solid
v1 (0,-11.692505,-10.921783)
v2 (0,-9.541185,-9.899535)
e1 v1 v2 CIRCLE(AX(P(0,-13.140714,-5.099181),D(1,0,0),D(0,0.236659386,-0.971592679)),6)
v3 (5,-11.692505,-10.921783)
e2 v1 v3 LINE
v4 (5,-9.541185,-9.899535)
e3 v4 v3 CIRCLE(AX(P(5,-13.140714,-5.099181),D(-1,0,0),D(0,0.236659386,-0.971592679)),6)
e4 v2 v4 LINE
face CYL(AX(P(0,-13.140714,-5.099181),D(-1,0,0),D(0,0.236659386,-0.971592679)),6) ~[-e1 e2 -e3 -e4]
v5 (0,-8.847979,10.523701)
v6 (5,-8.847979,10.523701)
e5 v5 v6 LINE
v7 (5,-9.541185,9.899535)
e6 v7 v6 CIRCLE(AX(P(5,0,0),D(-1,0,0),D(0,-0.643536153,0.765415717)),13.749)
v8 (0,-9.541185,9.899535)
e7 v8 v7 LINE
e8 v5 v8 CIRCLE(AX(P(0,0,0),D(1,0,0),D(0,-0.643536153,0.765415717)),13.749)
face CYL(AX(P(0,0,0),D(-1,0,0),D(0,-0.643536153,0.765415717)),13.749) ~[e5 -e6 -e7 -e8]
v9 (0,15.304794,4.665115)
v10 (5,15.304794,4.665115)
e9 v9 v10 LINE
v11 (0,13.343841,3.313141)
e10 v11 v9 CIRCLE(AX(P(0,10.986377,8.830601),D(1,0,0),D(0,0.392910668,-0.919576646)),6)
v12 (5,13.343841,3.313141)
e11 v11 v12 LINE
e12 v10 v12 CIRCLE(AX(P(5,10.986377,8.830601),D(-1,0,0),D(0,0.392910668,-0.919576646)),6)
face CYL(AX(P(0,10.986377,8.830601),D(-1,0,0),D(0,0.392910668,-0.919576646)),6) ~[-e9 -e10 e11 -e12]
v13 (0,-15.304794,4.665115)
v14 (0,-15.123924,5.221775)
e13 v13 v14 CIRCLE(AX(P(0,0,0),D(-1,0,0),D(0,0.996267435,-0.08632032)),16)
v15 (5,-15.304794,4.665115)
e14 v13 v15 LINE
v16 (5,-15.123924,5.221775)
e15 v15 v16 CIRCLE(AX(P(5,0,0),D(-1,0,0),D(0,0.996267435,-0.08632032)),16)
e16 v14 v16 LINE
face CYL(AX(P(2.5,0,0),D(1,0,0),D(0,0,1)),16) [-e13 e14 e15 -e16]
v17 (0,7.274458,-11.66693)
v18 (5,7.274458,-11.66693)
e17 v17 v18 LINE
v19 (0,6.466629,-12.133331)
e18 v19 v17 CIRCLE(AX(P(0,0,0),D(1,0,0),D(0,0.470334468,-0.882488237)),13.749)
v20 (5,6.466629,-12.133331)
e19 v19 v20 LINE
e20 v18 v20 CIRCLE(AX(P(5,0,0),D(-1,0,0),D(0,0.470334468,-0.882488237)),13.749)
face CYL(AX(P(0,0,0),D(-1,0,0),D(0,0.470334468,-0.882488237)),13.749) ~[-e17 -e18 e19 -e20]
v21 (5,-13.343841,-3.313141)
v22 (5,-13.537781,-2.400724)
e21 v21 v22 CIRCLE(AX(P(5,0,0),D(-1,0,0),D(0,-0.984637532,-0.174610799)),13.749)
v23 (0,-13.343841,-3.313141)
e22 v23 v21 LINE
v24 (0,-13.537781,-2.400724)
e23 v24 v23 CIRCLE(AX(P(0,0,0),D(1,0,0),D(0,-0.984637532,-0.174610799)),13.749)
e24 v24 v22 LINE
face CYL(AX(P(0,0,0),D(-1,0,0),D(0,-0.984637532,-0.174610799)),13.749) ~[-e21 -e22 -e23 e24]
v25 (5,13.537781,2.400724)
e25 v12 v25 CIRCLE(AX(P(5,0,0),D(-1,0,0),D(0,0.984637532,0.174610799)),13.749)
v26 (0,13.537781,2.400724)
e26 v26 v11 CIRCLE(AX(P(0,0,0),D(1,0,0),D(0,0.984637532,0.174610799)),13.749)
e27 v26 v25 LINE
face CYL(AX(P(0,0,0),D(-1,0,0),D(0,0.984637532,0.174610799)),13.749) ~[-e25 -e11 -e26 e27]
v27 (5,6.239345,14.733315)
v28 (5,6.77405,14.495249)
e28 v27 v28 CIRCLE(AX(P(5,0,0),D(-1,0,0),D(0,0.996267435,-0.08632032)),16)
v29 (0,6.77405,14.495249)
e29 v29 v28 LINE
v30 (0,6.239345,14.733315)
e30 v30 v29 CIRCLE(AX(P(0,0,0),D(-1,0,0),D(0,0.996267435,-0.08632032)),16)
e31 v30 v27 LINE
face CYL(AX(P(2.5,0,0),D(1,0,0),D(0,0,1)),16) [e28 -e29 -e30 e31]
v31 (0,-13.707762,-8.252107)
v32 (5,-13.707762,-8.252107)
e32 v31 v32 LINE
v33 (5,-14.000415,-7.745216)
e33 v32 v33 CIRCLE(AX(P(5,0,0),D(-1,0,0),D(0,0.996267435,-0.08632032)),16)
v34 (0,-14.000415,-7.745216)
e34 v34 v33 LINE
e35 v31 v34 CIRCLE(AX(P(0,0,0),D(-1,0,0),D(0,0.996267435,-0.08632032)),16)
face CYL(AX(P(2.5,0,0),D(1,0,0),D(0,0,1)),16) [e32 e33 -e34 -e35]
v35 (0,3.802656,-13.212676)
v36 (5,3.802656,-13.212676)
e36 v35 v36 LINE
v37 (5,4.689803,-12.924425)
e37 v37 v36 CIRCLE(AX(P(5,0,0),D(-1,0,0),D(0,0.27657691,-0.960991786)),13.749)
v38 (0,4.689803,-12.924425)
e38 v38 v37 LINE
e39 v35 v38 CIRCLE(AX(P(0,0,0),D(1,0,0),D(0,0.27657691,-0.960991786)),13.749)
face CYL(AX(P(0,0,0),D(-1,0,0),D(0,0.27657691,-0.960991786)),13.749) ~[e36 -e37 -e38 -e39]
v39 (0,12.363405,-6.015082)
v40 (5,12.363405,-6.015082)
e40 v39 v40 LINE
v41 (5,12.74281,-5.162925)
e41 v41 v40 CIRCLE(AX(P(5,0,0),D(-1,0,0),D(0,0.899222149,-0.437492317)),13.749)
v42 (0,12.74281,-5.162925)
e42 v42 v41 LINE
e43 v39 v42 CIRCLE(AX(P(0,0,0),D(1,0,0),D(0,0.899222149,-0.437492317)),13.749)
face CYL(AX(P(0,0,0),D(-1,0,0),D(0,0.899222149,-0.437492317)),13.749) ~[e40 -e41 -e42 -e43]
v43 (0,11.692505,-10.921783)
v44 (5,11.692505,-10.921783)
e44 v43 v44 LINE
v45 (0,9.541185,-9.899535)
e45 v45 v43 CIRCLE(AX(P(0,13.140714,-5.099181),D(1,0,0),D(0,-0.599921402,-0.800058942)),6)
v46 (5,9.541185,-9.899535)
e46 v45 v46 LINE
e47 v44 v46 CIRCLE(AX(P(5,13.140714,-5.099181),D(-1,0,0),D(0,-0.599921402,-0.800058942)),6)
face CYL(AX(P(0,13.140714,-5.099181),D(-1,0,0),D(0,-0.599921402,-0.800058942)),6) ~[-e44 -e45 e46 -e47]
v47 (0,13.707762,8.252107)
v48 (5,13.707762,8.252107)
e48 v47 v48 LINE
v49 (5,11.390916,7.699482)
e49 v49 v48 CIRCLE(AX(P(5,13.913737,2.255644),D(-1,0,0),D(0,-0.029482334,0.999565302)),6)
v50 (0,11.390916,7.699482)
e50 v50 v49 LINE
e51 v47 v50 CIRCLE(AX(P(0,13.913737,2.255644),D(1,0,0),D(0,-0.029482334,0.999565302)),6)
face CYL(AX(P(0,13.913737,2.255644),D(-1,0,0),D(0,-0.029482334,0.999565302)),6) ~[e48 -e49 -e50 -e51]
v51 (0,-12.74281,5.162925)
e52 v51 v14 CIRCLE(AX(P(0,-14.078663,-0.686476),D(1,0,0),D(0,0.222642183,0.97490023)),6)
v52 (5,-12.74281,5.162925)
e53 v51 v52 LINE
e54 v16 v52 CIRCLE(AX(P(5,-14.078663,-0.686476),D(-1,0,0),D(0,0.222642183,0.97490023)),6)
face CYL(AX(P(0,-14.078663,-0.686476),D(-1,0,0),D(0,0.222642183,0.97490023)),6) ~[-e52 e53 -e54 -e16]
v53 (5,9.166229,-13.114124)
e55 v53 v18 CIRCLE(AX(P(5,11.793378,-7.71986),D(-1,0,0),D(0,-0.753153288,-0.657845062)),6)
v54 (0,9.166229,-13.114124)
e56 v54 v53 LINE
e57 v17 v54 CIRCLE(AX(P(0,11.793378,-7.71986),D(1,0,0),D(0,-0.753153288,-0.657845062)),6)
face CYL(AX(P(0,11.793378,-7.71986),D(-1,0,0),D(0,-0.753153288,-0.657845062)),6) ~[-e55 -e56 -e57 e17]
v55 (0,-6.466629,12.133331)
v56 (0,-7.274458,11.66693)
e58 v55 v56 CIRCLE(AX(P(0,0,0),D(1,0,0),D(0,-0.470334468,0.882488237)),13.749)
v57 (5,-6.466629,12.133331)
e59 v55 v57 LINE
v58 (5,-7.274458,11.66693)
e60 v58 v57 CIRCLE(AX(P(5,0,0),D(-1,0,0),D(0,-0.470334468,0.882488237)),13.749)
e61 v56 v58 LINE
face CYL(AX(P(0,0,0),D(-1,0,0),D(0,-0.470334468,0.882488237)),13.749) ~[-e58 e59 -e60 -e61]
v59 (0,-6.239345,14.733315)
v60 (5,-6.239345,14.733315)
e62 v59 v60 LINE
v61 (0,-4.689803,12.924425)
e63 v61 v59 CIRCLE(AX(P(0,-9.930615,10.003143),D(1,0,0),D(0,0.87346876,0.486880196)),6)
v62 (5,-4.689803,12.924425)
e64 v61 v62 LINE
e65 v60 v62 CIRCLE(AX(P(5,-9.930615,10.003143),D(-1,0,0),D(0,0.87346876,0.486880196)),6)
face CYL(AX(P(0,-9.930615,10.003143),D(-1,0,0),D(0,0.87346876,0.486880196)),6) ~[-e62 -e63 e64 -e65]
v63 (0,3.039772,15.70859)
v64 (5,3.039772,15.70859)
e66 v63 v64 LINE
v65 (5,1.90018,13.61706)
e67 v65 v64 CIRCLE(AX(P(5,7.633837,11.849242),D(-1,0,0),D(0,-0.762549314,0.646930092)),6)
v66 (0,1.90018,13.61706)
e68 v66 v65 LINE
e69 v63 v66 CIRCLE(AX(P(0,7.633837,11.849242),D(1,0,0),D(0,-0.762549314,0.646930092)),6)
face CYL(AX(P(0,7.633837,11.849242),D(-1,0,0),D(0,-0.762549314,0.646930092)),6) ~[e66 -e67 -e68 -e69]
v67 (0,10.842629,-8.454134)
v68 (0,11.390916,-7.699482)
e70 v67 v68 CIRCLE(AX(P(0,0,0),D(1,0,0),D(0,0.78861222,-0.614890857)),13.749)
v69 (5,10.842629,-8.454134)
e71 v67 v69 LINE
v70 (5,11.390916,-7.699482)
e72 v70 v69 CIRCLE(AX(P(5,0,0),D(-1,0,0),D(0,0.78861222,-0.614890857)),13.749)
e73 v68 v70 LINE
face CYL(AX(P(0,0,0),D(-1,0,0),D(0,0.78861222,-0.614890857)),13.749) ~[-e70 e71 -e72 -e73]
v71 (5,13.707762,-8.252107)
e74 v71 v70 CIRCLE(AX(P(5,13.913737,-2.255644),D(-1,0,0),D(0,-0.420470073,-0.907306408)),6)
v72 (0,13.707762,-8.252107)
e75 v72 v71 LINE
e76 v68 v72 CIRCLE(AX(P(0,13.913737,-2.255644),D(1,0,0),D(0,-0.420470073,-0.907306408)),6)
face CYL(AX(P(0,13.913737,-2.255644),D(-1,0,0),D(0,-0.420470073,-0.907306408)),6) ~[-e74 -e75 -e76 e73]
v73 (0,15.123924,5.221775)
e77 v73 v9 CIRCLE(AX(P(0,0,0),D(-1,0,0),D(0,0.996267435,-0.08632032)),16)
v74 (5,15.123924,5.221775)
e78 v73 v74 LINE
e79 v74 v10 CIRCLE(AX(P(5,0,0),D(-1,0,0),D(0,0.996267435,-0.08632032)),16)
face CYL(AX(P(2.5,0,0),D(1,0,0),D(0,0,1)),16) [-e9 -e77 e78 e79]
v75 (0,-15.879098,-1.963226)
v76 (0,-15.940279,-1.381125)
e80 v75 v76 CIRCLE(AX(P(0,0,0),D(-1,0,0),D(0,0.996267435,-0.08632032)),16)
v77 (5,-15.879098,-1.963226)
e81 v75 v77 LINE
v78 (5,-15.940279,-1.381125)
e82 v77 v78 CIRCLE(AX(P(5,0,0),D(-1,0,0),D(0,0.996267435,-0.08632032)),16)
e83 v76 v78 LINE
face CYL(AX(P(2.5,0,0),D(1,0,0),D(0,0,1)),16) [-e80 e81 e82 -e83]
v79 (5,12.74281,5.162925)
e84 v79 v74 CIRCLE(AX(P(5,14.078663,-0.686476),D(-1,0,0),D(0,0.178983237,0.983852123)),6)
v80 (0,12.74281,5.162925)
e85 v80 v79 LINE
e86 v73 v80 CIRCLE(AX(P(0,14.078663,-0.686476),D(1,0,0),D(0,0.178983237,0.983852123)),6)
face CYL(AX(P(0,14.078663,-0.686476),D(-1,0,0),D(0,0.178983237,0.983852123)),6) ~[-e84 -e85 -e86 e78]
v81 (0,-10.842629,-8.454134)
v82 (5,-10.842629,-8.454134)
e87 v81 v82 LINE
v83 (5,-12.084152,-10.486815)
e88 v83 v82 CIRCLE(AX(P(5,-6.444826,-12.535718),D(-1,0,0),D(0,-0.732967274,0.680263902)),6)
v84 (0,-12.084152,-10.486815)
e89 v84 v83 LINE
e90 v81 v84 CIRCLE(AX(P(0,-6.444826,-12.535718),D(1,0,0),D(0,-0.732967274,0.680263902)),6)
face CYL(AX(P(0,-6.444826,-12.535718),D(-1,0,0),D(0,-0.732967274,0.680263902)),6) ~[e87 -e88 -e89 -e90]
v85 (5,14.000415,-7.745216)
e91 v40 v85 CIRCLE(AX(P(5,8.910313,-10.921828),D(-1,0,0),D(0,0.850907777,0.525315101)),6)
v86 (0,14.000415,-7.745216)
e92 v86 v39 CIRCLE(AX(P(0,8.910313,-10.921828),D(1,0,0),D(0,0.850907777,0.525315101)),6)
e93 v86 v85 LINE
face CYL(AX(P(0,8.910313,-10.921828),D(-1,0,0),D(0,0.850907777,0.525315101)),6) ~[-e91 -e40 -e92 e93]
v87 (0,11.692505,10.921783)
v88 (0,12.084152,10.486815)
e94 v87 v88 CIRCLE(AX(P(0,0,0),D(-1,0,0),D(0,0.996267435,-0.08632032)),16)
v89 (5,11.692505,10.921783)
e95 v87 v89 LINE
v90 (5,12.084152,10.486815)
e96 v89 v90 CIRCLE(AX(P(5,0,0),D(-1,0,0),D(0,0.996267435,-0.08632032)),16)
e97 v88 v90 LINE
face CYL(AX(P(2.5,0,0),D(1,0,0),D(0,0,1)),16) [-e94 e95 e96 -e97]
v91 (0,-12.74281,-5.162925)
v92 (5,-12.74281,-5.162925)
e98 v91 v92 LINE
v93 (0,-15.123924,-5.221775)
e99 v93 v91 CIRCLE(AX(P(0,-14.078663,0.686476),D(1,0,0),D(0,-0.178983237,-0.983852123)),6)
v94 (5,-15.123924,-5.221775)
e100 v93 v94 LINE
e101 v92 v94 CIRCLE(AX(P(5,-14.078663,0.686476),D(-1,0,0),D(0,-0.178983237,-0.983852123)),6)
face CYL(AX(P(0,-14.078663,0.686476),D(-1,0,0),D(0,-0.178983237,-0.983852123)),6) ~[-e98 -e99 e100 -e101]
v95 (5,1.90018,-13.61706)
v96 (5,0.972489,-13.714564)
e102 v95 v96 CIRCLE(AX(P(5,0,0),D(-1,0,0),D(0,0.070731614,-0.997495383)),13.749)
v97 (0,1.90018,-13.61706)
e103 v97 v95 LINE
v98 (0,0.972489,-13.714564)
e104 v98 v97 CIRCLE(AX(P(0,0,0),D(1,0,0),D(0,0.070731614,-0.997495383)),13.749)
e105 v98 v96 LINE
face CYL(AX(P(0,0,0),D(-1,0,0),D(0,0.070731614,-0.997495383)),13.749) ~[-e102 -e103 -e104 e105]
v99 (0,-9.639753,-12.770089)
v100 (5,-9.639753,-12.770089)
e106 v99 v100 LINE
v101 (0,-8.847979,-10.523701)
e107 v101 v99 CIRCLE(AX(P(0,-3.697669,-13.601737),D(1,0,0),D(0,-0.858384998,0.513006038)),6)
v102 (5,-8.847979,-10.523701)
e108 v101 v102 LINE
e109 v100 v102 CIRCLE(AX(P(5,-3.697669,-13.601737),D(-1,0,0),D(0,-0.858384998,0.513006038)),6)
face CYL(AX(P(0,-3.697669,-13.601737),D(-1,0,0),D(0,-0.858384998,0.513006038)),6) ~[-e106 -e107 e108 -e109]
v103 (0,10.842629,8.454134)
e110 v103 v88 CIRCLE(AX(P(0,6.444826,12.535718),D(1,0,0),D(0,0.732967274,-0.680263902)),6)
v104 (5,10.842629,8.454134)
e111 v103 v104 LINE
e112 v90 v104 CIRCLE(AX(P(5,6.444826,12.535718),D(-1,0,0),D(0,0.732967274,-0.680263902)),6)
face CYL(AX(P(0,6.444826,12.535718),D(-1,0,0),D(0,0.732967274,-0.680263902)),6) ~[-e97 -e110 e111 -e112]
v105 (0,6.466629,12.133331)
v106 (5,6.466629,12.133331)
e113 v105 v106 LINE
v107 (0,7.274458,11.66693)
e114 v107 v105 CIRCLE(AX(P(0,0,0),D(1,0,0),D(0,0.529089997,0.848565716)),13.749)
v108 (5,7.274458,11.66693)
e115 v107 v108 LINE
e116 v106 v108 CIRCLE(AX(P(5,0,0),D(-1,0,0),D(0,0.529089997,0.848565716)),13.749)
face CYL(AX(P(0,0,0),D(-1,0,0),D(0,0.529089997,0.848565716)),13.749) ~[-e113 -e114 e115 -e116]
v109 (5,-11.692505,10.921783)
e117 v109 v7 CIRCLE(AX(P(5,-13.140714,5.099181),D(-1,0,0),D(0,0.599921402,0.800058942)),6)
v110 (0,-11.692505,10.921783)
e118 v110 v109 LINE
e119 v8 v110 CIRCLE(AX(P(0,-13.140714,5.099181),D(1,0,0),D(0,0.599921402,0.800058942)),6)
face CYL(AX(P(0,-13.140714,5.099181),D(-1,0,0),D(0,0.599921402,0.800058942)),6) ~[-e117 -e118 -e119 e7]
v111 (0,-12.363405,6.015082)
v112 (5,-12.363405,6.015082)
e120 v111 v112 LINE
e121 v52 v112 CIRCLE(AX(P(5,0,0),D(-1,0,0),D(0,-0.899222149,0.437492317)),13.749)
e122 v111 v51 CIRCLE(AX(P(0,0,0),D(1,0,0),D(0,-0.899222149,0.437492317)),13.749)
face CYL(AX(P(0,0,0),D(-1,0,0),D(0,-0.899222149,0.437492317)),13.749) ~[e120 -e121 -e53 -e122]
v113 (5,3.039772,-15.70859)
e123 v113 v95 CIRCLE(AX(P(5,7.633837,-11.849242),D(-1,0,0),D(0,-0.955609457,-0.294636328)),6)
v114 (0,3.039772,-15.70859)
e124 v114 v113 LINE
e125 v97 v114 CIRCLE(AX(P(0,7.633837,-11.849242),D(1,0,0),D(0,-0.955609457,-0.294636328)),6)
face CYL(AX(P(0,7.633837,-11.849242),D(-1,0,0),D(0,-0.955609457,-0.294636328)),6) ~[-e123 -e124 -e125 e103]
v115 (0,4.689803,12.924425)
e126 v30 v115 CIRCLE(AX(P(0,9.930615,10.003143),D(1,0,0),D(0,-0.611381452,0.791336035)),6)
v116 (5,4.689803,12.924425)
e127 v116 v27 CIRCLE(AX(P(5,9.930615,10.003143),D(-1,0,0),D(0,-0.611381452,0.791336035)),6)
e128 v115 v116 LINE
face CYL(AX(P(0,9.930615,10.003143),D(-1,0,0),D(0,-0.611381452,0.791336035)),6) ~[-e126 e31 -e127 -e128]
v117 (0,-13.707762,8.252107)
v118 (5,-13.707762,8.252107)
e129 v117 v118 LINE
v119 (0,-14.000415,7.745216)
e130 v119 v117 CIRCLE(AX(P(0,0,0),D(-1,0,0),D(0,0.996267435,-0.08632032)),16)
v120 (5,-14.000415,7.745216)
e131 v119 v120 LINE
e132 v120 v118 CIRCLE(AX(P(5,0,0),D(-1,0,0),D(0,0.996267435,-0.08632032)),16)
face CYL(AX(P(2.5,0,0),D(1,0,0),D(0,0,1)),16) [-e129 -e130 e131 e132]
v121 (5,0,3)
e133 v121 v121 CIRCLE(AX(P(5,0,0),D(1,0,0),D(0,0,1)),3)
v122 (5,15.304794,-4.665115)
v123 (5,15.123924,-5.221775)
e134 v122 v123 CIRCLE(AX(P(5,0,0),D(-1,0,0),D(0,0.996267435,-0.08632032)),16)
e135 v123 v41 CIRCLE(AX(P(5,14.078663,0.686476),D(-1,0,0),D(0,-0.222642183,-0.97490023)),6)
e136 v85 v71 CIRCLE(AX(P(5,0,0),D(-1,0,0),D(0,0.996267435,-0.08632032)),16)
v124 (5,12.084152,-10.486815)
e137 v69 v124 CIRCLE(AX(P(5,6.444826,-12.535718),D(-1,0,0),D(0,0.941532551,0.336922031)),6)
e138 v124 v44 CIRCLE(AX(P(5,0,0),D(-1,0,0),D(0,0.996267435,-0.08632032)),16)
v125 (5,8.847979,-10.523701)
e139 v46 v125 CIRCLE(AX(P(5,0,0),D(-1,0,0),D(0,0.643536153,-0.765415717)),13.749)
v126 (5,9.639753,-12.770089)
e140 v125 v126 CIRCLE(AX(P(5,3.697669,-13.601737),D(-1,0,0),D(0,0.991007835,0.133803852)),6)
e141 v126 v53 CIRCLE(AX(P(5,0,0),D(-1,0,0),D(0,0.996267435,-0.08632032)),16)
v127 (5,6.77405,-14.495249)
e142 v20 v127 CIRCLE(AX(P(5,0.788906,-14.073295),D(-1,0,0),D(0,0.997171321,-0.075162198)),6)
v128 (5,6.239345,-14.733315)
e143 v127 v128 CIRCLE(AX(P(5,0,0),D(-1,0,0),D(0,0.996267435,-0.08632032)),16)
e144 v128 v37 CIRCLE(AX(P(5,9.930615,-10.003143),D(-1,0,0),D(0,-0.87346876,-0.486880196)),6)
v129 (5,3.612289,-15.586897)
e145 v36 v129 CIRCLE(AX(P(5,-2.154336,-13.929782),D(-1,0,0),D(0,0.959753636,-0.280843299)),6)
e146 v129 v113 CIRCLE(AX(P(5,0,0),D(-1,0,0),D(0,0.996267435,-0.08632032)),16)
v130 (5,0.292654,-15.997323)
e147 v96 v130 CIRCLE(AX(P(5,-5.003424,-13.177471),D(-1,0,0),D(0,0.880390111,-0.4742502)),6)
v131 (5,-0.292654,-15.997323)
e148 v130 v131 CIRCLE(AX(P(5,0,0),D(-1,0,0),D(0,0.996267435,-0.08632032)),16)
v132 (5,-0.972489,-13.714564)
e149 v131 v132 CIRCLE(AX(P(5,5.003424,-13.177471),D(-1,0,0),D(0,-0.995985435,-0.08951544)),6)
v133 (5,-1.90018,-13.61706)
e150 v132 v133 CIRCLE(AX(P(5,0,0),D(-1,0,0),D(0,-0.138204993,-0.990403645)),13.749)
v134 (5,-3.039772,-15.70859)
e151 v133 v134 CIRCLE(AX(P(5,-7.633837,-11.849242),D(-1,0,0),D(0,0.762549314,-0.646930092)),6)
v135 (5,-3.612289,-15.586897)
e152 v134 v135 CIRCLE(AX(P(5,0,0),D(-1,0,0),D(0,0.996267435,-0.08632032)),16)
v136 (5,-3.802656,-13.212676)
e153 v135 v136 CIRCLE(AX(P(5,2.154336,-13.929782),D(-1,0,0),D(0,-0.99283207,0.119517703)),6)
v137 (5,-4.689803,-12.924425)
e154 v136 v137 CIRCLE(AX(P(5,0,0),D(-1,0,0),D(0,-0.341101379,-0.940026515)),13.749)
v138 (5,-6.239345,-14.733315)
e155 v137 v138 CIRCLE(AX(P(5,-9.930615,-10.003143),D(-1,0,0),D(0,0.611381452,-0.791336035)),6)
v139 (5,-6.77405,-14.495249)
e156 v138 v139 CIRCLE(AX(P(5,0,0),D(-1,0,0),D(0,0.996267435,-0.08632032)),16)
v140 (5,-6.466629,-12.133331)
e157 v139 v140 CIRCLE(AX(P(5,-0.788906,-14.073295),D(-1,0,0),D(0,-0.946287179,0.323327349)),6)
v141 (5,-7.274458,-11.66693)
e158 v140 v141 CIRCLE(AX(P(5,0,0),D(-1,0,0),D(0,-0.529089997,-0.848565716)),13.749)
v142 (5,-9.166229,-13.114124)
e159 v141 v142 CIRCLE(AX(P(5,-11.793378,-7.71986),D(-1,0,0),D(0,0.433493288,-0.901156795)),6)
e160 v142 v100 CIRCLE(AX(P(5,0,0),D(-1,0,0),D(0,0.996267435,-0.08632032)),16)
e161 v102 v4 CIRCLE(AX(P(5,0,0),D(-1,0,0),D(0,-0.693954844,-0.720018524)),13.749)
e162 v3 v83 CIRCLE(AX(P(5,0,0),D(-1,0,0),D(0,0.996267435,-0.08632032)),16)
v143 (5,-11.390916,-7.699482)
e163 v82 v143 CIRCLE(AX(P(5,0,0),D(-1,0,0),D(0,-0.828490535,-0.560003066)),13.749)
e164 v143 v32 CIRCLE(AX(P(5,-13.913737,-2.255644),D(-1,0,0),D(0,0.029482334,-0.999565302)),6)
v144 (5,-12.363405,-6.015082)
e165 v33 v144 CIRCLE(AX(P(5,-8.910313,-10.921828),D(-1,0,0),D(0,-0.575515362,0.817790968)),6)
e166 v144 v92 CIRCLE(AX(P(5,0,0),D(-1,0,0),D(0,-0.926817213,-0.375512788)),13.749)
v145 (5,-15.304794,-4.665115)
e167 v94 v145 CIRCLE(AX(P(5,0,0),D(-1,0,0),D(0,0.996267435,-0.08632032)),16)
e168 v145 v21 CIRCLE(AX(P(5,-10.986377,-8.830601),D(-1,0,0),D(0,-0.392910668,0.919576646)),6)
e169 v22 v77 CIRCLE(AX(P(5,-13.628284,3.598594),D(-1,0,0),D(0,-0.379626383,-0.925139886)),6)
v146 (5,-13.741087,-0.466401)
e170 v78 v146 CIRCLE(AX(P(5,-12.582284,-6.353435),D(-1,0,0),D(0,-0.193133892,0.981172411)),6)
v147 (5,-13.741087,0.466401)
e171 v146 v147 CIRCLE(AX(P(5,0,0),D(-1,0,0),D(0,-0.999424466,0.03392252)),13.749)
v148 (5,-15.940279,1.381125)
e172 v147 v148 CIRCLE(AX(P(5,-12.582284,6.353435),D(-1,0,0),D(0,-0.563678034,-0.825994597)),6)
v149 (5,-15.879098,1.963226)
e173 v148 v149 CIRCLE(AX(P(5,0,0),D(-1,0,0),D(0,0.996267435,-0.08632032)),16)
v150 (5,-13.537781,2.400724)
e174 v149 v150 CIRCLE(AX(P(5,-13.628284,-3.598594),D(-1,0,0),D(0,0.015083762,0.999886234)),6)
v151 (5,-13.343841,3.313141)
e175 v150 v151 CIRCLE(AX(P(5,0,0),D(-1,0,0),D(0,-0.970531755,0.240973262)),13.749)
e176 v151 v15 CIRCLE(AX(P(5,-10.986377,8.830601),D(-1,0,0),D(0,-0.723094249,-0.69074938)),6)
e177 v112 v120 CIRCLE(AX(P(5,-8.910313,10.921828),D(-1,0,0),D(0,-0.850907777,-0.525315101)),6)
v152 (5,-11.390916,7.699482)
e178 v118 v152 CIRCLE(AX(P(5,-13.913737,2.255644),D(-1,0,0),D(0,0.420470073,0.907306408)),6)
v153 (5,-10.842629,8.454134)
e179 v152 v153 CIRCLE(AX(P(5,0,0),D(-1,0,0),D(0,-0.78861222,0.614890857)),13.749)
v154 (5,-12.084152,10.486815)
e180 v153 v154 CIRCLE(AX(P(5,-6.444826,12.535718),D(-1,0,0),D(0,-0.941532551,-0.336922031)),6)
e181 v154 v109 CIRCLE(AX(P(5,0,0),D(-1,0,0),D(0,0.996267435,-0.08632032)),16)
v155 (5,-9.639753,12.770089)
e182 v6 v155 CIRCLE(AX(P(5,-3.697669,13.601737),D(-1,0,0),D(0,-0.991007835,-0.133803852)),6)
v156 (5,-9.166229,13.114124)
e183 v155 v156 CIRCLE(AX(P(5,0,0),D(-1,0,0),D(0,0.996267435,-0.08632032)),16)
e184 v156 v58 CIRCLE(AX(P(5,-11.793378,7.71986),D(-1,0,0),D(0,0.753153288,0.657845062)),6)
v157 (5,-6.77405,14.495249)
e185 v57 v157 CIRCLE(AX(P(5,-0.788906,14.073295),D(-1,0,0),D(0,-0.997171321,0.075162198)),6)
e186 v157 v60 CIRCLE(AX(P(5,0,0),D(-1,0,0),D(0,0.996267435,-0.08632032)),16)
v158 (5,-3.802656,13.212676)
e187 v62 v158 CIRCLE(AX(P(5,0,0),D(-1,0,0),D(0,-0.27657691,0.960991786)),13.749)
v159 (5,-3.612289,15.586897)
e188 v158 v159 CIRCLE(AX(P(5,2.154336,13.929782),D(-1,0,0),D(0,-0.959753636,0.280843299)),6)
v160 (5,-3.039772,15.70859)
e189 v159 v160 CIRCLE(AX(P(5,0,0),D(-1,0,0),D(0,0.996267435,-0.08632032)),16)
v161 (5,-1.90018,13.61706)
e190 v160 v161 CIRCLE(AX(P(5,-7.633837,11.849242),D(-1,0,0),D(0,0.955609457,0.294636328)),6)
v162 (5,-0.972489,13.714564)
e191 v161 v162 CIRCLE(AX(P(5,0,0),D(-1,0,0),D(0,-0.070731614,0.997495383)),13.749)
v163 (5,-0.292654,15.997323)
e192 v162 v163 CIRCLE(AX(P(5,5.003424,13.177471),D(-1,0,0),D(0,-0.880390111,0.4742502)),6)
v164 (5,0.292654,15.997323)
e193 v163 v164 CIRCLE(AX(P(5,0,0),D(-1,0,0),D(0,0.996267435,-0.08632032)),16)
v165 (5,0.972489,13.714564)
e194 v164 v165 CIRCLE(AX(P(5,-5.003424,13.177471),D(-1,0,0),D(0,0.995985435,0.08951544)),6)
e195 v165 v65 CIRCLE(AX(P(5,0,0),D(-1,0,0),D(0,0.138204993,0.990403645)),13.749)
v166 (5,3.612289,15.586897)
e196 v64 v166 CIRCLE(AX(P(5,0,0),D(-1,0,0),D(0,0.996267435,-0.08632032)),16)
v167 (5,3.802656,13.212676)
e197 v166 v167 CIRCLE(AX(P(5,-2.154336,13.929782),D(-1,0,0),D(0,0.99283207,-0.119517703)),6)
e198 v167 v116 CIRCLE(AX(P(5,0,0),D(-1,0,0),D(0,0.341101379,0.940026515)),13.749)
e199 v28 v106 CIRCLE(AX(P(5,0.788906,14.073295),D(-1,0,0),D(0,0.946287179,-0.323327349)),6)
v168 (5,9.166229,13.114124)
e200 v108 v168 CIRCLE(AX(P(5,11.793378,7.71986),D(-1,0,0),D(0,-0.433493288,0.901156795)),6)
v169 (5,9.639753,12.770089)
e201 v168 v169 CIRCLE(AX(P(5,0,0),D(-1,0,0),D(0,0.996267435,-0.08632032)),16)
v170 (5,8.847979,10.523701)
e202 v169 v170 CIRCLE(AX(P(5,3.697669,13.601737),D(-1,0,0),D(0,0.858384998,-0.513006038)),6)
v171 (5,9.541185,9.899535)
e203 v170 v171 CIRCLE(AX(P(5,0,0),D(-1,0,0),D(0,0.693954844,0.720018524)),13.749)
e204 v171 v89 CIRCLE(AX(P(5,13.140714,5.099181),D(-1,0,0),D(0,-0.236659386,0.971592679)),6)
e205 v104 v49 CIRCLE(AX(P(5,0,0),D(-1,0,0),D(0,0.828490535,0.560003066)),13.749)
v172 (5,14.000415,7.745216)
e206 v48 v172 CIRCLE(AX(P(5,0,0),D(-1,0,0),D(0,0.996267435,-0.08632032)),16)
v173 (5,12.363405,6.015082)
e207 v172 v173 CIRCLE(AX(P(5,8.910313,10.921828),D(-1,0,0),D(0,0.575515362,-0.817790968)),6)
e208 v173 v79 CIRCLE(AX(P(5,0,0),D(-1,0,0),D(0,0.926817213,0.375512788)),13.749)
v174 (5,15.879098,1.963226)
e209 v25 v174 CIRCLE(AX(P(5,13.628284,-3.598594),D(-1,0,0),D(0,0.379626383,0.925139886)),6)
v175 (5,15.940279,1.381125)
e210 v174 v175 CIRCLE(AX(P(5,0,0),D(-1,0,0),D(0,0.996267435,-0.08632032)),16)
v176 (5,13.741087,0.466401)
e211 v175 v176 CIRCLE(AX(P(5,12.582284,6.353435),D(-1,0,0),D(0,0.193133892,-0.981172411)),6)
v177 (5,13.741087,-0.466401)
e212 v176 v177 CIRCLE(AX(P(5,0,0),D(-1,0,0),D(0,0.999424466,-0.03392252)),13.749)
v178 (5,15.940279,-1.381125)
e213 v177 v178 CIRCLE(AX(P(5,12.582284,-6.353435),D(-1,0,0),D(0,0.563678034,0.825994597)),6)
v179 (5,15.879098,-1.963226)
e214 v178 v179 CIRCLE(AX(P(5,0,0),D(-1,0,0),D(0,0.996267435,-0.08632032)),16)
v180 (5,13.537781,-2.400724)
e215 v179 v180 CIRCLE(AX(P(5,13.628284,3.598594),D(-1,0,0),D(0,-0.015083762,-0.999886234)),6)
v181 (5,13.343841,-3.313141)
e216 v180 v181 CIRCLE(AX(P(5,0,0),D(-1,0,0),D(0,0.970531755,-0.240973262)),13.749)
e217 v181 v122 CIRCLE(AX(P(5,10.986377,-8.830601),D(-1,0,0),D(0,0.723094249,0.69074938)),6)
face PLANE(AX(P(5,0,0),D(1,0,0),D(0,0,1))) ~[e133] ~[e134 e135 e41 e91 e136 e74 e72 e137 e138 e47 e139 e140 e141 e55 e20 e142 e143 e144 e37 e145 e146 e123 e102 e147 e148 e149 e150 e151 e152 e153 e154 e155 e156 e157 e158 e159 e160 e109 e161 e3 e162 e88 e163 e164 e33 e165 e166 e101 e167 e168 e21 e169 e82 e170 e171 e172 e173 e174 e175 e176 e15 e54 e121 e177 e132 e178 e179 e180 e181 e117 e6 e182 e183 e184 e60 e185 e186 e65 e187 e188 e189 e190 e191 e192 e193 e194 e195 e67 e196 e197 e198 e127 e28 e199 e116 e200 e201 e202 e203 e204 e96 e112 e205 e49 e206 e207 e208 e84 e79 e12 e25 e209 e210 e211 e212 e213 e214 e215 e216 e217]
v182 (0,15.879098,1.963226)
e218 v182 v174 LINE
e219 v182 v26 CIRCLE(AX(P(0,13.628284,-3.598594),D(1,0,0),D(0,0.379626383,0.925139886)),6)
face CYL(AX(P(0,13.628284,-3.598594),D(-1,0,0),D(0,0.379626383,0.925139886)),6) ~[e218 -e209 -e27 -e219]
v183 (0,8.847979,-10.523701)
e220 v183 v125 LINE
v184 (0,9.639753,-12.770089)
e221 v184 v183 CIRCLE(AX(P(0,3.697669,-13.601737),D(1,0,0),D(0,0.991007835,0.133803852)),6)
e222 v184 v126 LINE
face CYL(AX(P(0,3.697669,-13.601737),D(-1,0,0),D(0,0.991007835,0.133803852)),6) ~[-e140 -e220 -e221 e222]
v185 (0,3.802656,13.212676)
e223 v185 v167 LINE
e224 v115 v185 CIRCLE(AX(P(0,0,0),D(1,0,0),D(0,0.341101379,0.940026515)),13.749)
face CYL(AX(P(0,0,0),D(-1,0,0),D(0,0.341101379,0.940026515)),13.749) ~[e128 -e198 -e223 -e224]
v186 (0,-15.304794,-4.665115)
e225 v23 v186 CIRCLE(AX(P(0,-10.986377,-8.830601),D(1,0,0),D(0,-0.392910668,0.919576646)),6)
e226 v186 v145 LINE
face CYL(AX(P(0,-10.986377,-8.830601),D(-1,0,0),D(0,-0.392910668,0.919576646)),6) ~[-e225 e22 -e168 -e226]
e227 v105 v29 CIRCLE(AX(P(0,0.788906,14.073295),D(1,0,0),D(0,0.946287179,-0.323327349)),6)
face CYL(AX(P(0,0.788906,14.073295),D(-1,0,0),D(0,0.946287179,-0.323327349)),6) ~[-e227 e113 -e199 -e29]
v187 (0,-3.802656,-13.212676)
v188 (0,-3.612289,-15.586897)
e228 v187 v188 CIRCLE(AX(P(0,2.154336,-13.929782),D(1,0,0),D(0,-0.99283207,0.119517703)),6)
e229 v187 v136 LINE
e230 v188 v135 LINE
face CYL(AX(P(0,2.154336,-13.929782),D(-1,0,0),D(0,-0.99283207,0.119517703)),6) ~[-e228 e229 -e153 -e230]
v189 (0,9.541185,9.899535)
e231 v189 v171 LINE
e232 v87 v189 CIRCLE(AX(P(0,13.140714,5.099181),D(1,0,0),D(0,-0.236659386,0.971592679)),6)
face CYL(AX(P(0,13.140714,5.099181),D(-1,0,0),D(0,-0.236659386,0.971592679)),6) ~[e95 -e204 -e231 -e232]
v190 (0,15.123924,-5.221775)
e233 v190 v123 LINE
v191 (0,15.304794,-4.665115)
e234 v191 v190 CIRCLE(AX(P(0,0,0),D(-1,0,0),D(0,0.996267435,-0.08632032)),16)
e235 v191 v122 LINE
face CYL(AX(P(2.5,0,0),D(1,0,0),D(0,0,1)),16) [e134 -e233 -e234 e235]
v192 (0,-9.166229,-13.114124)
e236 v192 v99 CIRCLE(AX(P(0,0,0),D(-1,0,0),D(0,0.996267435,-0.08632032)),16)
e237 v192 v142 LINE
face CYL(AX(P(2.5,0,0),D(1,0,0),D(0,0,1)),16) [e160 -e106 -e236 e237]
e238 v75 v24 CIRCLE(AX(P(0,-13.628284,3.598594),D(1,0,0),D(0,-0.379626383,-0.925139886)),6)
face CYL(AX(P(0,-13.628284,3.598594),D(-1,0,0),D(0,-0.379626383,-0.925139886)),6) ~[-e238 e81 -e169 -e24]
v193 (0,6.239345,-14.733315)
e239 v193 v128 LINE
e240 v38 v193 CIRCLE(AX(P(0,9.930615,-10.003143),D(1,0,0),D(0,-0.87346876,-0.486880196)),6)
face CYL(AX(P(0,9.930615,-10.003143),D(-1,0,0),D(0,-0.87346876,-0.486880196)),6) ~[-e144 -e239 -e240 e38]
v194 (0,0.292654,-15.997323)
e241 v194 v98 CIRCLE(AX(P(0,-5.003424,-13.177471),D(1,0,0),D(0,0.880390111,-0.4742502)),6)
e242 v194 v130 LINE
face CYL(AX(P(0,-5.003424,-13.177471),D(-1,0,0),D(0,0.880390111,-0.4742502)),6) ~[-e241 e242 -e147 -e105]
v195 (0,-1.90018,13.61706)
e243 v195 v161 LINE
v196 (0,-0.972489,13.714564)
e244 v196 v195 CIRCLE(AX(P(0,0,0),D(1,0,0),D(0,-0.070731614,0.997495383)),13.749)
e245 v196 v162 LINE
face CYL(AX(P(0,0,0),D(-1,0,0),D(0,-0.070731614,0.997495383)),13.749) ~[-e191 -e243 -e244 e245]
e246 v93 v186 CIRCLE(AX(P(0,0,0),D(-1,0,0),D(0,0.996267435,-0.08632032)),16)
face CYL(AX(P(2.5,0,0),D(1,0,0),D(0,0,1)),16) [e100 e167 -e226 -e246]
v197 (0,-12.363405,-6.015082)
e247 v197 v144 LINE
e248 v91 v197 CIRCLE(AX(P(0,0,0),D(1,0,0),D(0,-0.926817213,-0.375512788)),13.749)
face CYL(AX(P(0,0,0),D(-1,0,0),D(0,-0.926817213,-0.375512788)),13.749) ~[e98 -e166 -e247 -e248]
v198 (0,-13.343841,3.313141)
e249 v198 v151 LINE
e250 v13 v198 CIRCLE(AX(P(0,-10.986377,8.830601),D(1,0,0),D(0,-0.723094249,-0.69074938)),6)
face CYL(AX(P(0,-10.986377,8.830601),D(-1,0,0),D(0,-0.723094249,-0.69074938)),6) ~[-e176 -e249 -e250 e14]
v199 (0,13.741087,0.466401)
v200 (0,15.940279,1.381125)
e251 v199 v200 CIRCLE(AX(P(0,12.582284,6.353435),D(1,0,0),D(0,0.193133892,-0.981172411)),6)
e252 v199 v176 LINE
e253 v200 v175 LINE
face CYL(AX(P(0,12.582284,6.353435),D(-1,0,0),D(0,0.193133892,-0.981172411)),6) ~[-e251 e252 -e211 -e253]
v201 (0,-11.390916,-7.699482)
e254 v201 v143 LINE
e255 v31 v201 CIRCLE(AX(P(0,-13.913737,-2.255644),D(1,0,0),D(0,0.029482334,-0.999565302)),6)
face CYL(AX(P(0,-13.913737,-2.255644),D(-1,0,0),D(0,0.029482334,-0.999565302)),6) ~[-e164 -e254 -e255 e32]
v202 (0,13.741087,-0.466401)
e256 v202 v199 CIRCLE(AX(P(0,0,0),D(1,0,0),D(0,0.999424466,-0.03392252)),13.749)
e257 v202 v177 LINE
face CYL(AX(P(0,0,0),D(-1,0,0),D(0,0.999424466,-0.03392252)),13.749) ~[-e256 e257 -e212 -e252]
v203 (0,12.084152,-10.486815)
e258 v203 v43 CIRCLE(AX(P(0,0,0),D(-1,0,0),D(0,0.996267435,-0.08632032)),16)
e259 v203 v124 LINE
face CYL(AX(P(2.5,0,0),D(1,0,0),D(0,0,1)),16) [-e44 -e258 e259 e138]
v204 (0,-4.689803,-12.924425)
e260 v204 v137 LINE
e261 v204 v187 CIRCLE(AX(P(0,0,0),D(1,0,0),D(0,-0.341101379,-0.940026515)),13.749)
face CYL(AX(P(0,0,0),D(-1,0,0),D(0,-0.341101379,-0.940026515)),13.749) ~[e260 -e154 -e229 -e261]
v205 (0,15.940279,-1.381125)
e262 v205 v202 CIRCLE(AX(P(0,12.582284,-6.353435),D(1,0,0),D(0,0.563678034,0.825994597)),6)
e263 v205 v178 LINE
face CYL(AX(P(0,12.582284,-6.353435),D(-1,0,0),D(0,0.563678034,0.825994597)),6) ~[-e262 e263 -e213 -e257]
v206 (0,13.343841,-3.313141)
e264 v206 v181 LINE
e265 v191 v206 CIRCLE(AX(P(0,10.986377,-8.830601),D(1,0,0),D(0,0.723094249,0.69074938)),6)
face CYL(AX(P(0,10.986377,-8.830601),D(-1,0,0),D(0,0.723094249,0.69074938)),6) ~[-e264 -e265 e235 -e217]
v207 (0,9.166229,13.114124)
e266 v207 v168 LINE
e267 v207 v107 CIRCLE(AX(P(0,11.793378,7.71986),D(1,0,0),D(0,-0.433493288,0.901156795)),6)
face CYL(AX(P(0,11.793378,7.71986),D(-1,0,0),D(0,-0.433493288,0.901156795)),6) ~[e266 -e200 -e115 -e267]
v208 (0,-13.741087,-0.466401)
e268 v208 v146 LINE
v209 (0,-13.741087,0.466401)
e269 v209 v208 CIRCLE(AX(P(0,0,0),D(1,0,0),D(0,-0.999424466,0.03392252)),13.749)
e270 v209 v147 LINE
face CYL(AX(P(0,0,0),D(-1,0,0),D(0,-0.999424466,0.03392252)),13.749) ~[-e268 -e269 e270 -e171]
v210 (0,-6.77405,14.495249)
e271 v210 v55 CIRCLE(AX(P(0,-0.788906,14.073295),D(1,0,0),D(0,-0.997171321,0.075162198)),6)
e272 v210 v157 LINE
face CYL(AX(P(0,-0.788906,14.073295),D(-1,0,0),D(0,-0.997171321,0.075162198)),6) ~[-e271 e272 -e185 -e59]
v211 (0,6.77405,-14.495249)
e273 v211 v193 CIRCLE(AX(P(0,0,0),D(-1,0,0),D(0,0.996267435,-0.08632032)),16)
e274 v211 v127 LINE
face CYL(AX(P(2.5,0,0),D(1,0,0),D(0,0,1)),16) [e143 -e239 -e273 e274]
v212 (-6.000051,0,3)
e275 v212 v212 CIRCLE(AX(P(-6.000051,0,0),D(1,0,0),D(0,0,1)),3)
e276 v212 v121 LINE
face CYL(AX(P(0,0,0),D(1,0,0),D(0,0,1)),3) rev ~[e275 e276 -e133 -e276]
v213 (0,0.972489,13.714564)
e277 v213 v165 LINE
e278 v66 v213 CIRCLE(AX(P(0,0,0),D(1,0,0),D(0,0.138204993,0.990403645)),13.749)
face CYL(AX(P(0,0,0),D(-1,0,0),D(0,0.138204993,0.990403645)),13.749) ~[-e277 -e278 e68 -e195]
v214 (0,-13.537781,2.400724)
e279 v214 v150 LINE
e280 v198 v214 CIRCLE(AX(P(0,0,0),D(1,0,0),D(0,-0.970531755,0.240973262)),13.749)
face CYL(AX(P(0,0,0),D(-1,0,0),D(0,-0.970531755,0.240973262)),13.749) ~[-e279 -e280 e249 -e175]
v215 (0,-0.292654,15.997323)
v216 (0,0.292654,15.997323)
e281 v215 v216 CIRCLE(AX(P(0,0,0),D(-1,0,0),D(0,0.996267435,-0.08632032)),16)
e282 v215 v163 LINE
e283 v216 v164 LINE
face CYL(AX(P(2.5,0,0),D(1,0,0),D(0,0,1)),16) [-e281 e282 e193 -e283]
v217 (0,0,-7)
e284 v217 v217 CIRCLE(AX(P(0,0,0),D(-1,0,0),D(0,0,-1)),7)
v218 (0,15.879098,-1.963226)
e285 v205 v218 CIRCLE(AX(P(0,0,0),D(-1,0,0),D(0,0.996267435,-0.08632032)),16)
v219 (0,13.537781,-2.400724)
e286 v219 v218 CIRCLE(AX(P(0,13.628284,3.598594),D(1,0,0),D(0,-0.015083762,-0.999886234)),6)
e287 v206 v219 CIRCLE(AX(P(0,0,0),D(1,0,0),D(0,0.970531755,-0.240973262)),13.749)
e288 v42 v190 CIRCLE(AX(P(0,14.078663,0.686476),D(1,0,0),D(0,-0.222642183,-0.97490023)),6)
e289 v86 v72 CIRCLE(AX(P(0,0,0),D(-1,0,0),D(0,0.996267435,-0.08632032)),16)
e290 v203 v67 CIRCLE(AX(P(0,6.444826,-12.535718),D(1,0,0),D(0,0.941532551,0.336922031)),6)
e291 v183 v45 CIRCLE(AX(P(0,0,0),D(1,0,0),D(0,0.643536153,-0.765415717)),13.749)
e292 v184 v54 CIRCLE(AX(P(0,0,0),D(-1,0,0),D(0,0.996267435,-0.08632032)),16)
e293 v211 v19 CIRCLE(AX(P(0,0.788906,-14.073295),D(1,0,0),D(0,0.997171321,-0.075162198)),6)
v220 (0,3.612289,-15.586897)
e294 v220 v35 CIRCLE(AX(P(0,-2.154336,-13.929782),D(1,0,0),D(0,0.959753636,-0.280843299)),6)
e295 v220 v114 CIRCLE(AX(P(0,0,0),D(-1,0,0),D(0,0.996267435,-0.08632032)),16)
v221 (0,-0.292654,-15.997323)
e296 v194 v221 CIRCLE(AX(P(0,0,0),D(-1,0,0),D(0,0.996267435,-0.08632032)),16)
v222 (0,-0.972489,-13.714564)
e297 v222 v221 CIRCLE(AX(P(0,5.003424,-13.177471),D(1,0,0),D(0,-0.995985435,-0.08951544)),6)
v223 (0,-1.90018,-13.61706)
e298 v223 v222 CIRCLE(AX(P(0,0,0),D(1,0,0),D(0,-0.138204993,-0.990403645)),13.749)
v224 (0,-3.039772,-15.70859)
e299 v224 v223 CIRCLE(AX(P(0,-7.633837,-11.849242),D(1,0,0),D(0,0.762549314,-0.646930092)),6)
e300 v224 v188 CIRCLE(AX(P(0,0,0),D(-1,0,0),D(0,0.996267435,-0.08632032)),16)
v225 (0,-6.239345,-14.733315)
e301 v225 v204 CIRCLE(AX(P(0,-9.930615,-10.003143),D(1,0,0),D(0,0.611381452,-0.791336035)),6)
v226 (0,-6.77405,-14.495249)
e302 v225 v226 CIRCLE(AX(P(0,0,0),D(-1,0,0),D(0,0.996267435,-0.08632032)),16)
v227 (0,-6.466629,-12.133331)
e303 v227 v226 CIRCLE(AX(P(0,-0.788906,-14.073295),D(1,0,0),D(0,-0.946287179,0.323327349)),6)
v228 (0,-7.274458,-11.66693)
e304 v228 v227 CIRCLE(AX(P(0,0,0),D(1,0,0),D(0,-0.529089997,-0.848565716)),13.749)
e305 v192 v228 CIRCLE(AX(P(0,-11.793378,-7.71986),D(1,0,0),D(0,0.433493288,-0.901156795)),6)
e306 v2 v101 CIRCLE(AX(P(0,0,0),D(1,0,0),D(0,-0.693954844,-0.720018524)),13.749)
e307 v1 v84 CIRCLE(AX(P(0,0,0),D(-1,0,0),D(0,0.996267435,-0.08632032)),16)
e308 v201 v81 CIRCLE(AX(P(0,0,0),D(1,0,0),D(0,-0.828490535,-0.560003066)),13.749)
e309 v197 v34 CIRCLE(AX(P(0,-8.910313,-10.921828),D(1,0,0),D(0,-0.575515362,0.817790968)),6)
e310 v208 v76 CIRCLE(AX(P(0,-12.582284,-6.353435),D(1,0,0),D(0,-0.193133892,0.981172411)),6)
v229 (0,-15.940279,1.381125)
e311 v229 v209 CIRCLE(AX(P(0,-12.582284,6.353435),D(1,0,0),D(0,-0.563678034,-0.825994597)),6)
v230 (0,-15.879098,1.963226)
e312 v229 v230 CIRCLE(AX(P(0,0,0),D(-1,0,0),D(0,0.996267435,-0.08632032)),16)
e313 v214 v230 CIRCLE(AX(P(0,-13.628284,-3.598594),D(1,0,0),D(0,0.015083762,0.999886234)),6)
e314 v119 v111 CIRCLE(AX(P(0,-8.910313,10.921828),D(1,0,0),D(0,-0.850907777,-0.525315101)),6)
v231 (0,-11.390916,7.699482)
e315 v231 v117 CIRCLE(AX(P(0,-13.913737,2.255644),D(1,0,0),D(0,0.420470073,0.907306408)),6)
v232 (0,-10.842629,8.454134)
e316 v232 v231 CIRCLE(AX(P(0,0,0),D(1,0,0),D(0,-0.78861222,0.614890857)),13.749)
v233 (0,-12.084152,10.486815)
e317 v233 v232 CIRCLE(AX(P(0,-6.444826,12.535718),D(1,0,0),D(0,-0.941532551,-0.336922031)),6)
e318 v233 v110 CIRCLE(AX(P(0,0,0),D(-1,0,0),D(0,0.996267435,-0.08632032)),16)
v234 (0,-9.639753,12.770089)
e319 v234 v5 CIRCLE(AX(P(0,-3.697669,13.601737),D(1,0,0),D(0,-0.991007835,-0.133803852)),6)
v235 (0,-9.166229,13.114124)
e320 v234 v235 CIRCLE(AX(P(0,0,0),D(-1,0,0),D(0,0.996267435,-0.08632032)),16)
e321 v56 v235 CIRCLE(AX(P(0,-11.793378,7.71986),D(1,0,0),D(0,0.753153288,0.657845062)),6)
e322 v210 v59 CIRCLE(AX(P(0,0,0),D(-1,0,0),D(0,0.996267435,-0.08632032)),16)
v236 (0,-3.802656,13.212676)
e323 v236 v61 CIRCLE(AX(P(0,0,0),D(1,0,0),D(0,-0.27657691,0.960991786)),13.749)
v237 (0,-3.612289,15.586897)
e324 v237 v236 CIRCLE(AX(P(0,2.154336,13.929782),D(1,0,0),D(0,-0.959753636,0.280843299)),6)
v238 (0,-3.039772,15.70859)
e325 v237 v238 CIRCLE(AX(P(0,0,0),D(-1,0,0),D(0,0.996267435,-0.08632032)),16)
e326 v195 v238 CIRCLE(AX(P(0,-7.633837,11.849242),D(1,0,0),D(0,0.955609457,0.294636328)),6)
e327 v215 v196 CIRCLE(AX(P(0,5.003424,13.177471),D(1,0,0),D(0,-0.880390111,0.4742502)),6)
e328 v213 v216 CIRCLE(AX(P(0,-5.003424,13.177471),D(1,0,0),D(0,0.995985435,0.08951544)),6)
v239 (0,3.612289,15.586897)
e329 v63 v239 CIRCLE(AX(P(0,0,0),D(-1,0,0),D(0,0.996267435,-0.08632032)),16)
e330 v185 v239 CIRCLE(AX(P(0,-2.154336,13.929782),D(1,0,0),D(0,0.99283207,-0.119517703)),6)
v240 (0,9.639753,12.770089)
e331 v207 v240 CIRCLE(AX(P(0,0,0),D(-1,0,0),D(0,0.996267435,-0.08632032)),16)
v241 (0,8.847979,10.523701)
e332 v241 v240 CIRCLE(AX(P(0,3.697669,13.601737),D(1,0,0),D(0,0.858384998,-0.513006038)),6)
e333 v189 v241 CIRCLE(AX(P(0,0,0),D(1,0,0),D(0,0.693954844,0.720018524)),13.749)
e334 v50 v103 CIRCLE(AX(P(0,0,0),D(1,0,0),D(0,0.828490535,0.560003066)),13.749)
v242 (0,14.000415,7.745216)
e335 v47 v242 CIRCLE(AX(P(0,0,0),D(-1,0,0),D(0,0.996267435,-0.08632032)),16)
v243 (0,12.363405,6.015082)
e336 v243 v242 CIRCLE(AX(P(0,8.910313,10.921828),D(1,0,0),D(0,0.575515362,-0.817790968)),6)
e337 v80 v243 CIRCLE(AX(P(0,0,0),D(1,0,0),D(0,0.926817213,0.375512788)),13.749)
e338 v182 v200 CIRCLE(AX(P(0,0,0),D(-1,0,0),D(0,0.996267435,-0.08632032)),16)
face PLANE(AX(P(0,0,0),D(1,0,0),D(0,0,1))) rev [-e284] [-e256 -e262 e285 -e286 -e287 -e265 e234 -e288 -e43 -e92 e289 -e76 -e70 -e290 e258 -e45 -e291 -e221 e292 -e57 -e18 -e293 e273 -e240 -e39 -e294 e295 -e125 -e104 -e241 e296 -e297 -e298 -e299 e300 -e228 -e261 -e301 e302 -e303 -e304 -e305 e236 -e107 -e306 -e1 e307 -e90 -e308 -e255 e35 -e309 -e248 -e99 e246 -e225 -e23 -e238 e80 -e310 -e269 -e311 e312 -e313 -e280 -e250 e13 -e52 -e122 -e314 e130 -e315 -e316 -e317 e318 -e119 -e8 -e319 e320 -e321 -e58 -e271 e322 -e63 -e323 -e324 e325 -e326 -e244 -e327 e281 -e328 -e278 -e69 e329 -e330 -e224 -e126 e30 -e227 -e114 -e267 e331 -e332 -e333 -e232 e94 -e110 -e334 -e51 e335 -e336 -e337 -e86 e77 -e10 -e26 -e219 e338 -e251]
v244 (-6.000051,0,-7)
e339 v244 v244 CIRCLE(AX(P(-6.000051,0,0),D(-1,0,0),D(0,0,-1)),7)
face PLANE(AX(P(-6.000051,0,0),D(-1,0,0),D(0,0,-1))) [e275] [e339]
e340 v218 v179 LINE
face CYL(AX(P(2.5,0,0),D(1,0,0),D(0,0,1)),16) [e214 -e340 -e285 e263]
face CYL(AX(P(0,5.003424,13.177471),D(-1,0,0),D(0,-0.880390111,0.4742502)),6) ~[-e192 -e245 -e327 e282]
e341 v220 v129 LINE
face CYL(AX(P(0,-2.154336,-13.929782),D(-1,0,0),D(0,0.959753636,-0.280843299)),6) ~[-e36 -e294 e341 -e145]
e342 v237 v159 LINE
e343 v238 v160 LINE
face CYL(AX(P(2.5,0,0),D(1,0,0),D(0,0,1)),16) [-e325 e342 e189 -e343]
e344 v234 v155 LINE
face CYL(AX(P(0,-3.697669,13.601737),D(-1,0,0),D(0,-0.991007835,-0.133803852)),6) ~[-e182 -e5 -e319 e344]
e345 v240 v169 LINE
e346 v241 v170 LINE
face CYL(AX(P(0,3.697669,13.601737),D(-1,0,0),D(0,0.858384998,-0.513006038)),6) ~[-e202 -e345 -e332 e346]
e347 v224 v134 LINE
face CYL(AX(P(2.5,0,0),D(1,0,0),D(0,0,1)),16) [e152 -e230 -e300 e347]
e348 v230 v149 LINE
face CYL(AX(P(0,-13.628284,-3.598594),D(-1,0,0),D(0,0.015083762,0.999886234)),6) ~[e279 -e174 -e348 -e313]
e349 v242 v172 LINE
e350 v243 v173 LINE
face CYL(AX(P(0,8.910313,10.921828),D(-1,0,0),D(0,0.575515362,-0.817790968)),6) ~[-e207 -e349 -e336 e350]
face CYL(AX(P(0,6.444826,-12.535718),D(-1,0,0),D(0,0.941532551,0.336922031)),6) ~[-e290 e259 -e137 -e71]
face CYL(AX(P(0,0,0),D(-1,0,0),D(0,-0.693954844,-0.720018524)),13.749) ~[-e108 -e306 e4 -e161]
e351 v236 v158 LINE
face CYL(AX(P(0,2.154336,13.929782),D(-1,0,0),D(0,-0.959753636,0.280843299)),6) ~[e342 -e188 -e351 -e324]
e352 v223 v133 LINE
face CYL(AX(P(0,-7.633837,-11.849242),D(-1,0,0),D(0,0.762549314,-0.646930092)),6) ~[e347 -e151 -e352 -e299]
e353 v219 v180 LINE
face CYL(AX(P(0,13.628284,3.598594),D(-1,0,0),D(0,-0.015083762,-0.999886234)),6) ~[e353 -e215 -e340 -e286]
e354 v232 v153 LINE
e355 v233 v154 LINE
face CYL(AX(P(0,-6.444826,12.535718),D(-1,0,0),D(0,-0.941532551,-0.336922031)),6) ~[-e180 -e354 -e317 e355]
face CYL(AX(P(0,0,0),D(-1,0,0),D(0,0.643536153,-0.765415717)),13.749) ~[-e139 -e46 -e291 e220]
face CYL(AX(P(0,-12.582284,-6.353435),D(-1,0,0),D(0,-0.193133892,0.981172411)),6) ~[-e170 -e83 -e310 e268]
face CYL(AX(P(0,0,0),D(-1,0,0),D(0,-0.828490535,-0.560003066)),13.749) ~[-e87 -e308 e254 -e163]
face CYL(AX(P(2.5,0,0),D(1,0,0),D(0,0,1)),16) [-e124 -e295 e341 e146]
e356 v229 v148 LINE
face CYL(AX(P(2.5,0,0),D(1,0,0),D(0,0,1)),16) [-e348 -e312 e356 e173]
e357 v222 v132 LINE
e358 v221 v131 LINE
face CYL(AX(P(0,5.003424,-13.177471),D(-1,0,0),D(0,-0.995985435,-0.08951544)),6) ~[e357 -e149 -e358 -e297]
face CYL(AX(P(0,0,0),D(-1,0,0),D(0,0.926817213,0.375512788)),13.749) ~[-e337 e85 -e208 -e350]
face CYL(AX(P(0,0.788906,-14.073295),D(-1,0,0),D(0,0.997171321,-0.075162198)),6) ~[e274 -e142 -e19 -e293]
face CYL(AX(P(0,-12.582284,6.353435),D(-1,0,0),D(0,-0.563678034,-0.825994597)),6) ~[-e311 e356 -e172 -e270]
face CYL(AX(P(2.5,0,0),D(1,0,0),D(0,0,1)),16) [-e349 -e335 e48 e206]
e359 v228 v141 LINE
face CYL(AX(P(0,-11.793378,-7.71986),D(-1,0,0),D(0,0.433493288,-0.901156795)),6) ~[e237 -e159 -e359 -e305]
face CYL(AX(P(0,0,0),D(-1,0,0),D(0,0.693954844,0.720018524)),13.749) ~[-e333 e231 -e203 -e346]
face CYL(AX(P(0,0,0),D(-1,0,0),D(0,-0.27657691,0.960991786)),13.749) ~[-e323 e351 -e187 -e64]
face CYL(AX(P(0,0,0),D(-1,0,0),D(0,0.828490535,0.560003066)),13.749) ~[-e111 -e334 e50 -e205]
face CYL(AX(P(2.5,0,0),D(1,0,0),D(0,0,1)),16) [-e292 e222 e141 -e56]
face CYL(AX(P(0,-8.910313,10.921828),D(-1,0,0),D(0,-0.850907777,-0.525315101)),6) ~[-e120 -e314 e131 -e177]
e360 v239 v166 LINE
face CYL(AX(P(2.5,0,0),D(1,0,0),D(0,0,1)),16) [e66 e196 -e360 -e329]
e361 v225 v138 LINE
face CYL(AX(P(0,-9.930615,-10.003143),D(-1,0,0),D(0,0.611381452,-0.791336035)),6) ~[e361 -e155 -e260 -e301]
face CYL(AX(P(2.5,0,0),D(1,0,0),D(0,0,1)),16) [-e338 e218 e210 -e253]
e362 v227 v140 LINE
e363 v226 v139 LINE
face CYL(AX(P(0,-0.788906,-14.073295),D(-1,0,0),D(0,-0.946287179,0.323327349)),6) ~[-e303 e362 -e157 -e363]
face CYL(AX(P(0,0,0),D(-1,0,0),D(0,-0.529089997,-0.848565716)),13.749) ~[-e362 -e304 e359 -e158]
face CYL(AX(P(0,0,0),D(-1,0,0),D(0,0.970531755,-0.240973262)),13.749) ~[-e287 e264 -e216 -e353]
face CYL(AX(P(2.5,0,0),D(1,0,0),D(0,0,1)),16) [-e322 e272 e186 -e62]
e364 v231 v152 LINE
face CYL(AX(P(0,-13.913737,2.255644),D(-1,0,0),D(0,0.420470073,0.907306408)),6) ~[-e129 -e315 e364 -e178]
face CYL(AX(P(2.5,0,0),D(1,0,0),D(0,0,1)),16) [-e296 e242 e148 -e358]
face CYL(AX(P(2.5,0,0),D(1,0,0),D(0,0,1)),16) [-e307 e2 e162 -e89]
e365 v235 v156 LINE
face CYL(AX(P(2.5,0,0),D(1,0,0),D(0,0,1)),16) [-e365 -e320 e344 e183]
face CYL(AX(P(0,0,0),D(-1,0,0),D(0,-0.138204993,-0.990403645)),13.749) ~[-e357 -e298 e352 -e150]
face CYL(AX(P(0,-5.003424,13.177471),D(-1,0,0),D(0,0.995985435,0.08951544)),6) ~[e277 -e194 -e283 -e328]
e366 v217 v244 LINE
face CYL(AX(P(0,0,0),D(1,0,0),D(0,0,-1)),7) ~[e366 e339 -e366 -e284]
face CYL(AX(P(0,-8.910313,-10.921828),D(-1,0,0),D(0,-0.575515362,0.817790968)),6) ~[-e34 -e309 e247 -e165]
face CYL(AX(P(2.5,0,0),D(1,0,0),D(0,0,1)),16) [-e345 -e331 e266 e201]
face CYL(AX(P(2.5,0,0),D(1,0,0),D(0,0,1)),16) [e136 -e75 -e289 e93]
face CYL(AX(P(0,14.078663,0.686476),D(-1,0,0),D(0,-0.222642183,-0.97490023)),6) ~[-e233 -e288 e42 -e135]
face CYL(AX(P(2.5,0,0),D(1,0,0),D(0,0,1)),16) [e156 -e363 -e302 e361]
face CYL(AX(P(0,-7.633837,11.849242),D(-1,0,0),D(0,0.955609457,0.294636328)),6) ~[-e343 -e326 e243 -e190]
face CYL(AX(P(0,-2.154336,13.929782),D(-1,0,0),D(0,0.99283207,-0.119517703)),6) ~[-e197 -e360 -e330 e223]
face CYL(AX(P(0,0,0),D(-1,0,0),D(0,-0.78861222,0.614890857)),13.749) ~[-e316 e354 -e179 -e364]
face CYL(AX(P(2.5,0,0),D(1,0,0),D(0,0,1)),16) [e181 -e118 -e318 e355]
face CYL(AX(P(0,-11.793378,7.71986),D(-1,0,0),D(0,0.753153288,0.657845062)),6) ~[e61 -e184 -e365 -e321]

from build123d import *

# Parameters (mm, degrees)
BASPROSKE_W      = 5
BASPROSKE_H      = 16
TOOTHCUT_DEPTH   = 24.173260453
TEETHCUTS_COUNT  = 30
TEETHCUTS_ANGLE  = 348
HUBNEAONESKE_R   = 7
HUBNEARONE_DEPTH = 6.0000508
BORSKE_R         = 3
BORE_DEPTH       = 11.0000508


with BuildPart() as part:
    # BasProSke → Base-Revolve (revolve)
    with BuildSketch(Plane(origin=(0, 0, 0), x_dir=(1, 0, 0), z_dir=(0, 1, 0)), mode=Mode.PRIVATE) as base_revolve_sk:
        with Locations((2.5, 8)):
            Rectangle(BASPROSKE_W, BASPROSKE_H)
    revolve(base_revolve_sk.sketch.rotate(Axis((-10, 0, 0), (1, 0, 0)), 180), axis=Axis((-10, 0, 0), (1, 0, 0)))

    # TooCutSke → ToothCut (cut, through all)
    with BuildSketch(Plane(origin=(0, 0, 0), x_dir=(0, 0, -1), z_dir=(1, 0, 0))):
        with BuildLine():
            ThreePointArc((0.466400716, 13.741086979), (0, 13.749), (-0.466400716, 13.741086979))
            ThreePointArc((-0.466400716, 13.741086979), (-0.819142092, 14.899954875), (-1.3974676, 15.964351834))
            ThreePointArc((-1.3974676, 15.964351834), (0, 16.0254), (1.3974676, 15.964351834))
            ThreePointArc((1.3974676, 15.964351834), (0.819142092, 14.899954875), (0.466400716, 13.741086979))
        make_face()
    toothcut = extrude(amount=TOOTHCUT_DEPTH, mode=Mode.SUBTRACT)

    # TeethCuts: ToothCut ×30 about axis
    teethcuts_axis = Axis((-10, 0, 0), (1, 0, 0))
    for i in range(1, TEETHCUTS_COUNT):
        add(toothcut.rotate(teethcuts_axis, i * TEETHCUTS_ANGLE / (TEETHCUTS_COUNT - 1)), mode=Mode.SUBTRACT)

    # HubNeaOneSke → HubNearOne (add)
    with BuildSketch(Plane.ZY):
        with Locations(Location((0, 0, 0), (0, 0, 180))):
            Circle(HUBNEAONESKE_R)
    extrude(amount=HUBNEARONE_DEPTH)

    # BorSke → Bore (cut, symmetric)
    with BuildSketch(Plane(origin=(0, 0, 0), x_dir=(0, 0, -1), z_dir=(1, 0, 0))):
        with Locations(Location((0, 0, 0), (0, 0, 180))):
            Circle(BORSKE_R)
    extrude(amount=BORE_DEPTH, both=True, mode=Mode.SUBTRACT)


solid = part.part
